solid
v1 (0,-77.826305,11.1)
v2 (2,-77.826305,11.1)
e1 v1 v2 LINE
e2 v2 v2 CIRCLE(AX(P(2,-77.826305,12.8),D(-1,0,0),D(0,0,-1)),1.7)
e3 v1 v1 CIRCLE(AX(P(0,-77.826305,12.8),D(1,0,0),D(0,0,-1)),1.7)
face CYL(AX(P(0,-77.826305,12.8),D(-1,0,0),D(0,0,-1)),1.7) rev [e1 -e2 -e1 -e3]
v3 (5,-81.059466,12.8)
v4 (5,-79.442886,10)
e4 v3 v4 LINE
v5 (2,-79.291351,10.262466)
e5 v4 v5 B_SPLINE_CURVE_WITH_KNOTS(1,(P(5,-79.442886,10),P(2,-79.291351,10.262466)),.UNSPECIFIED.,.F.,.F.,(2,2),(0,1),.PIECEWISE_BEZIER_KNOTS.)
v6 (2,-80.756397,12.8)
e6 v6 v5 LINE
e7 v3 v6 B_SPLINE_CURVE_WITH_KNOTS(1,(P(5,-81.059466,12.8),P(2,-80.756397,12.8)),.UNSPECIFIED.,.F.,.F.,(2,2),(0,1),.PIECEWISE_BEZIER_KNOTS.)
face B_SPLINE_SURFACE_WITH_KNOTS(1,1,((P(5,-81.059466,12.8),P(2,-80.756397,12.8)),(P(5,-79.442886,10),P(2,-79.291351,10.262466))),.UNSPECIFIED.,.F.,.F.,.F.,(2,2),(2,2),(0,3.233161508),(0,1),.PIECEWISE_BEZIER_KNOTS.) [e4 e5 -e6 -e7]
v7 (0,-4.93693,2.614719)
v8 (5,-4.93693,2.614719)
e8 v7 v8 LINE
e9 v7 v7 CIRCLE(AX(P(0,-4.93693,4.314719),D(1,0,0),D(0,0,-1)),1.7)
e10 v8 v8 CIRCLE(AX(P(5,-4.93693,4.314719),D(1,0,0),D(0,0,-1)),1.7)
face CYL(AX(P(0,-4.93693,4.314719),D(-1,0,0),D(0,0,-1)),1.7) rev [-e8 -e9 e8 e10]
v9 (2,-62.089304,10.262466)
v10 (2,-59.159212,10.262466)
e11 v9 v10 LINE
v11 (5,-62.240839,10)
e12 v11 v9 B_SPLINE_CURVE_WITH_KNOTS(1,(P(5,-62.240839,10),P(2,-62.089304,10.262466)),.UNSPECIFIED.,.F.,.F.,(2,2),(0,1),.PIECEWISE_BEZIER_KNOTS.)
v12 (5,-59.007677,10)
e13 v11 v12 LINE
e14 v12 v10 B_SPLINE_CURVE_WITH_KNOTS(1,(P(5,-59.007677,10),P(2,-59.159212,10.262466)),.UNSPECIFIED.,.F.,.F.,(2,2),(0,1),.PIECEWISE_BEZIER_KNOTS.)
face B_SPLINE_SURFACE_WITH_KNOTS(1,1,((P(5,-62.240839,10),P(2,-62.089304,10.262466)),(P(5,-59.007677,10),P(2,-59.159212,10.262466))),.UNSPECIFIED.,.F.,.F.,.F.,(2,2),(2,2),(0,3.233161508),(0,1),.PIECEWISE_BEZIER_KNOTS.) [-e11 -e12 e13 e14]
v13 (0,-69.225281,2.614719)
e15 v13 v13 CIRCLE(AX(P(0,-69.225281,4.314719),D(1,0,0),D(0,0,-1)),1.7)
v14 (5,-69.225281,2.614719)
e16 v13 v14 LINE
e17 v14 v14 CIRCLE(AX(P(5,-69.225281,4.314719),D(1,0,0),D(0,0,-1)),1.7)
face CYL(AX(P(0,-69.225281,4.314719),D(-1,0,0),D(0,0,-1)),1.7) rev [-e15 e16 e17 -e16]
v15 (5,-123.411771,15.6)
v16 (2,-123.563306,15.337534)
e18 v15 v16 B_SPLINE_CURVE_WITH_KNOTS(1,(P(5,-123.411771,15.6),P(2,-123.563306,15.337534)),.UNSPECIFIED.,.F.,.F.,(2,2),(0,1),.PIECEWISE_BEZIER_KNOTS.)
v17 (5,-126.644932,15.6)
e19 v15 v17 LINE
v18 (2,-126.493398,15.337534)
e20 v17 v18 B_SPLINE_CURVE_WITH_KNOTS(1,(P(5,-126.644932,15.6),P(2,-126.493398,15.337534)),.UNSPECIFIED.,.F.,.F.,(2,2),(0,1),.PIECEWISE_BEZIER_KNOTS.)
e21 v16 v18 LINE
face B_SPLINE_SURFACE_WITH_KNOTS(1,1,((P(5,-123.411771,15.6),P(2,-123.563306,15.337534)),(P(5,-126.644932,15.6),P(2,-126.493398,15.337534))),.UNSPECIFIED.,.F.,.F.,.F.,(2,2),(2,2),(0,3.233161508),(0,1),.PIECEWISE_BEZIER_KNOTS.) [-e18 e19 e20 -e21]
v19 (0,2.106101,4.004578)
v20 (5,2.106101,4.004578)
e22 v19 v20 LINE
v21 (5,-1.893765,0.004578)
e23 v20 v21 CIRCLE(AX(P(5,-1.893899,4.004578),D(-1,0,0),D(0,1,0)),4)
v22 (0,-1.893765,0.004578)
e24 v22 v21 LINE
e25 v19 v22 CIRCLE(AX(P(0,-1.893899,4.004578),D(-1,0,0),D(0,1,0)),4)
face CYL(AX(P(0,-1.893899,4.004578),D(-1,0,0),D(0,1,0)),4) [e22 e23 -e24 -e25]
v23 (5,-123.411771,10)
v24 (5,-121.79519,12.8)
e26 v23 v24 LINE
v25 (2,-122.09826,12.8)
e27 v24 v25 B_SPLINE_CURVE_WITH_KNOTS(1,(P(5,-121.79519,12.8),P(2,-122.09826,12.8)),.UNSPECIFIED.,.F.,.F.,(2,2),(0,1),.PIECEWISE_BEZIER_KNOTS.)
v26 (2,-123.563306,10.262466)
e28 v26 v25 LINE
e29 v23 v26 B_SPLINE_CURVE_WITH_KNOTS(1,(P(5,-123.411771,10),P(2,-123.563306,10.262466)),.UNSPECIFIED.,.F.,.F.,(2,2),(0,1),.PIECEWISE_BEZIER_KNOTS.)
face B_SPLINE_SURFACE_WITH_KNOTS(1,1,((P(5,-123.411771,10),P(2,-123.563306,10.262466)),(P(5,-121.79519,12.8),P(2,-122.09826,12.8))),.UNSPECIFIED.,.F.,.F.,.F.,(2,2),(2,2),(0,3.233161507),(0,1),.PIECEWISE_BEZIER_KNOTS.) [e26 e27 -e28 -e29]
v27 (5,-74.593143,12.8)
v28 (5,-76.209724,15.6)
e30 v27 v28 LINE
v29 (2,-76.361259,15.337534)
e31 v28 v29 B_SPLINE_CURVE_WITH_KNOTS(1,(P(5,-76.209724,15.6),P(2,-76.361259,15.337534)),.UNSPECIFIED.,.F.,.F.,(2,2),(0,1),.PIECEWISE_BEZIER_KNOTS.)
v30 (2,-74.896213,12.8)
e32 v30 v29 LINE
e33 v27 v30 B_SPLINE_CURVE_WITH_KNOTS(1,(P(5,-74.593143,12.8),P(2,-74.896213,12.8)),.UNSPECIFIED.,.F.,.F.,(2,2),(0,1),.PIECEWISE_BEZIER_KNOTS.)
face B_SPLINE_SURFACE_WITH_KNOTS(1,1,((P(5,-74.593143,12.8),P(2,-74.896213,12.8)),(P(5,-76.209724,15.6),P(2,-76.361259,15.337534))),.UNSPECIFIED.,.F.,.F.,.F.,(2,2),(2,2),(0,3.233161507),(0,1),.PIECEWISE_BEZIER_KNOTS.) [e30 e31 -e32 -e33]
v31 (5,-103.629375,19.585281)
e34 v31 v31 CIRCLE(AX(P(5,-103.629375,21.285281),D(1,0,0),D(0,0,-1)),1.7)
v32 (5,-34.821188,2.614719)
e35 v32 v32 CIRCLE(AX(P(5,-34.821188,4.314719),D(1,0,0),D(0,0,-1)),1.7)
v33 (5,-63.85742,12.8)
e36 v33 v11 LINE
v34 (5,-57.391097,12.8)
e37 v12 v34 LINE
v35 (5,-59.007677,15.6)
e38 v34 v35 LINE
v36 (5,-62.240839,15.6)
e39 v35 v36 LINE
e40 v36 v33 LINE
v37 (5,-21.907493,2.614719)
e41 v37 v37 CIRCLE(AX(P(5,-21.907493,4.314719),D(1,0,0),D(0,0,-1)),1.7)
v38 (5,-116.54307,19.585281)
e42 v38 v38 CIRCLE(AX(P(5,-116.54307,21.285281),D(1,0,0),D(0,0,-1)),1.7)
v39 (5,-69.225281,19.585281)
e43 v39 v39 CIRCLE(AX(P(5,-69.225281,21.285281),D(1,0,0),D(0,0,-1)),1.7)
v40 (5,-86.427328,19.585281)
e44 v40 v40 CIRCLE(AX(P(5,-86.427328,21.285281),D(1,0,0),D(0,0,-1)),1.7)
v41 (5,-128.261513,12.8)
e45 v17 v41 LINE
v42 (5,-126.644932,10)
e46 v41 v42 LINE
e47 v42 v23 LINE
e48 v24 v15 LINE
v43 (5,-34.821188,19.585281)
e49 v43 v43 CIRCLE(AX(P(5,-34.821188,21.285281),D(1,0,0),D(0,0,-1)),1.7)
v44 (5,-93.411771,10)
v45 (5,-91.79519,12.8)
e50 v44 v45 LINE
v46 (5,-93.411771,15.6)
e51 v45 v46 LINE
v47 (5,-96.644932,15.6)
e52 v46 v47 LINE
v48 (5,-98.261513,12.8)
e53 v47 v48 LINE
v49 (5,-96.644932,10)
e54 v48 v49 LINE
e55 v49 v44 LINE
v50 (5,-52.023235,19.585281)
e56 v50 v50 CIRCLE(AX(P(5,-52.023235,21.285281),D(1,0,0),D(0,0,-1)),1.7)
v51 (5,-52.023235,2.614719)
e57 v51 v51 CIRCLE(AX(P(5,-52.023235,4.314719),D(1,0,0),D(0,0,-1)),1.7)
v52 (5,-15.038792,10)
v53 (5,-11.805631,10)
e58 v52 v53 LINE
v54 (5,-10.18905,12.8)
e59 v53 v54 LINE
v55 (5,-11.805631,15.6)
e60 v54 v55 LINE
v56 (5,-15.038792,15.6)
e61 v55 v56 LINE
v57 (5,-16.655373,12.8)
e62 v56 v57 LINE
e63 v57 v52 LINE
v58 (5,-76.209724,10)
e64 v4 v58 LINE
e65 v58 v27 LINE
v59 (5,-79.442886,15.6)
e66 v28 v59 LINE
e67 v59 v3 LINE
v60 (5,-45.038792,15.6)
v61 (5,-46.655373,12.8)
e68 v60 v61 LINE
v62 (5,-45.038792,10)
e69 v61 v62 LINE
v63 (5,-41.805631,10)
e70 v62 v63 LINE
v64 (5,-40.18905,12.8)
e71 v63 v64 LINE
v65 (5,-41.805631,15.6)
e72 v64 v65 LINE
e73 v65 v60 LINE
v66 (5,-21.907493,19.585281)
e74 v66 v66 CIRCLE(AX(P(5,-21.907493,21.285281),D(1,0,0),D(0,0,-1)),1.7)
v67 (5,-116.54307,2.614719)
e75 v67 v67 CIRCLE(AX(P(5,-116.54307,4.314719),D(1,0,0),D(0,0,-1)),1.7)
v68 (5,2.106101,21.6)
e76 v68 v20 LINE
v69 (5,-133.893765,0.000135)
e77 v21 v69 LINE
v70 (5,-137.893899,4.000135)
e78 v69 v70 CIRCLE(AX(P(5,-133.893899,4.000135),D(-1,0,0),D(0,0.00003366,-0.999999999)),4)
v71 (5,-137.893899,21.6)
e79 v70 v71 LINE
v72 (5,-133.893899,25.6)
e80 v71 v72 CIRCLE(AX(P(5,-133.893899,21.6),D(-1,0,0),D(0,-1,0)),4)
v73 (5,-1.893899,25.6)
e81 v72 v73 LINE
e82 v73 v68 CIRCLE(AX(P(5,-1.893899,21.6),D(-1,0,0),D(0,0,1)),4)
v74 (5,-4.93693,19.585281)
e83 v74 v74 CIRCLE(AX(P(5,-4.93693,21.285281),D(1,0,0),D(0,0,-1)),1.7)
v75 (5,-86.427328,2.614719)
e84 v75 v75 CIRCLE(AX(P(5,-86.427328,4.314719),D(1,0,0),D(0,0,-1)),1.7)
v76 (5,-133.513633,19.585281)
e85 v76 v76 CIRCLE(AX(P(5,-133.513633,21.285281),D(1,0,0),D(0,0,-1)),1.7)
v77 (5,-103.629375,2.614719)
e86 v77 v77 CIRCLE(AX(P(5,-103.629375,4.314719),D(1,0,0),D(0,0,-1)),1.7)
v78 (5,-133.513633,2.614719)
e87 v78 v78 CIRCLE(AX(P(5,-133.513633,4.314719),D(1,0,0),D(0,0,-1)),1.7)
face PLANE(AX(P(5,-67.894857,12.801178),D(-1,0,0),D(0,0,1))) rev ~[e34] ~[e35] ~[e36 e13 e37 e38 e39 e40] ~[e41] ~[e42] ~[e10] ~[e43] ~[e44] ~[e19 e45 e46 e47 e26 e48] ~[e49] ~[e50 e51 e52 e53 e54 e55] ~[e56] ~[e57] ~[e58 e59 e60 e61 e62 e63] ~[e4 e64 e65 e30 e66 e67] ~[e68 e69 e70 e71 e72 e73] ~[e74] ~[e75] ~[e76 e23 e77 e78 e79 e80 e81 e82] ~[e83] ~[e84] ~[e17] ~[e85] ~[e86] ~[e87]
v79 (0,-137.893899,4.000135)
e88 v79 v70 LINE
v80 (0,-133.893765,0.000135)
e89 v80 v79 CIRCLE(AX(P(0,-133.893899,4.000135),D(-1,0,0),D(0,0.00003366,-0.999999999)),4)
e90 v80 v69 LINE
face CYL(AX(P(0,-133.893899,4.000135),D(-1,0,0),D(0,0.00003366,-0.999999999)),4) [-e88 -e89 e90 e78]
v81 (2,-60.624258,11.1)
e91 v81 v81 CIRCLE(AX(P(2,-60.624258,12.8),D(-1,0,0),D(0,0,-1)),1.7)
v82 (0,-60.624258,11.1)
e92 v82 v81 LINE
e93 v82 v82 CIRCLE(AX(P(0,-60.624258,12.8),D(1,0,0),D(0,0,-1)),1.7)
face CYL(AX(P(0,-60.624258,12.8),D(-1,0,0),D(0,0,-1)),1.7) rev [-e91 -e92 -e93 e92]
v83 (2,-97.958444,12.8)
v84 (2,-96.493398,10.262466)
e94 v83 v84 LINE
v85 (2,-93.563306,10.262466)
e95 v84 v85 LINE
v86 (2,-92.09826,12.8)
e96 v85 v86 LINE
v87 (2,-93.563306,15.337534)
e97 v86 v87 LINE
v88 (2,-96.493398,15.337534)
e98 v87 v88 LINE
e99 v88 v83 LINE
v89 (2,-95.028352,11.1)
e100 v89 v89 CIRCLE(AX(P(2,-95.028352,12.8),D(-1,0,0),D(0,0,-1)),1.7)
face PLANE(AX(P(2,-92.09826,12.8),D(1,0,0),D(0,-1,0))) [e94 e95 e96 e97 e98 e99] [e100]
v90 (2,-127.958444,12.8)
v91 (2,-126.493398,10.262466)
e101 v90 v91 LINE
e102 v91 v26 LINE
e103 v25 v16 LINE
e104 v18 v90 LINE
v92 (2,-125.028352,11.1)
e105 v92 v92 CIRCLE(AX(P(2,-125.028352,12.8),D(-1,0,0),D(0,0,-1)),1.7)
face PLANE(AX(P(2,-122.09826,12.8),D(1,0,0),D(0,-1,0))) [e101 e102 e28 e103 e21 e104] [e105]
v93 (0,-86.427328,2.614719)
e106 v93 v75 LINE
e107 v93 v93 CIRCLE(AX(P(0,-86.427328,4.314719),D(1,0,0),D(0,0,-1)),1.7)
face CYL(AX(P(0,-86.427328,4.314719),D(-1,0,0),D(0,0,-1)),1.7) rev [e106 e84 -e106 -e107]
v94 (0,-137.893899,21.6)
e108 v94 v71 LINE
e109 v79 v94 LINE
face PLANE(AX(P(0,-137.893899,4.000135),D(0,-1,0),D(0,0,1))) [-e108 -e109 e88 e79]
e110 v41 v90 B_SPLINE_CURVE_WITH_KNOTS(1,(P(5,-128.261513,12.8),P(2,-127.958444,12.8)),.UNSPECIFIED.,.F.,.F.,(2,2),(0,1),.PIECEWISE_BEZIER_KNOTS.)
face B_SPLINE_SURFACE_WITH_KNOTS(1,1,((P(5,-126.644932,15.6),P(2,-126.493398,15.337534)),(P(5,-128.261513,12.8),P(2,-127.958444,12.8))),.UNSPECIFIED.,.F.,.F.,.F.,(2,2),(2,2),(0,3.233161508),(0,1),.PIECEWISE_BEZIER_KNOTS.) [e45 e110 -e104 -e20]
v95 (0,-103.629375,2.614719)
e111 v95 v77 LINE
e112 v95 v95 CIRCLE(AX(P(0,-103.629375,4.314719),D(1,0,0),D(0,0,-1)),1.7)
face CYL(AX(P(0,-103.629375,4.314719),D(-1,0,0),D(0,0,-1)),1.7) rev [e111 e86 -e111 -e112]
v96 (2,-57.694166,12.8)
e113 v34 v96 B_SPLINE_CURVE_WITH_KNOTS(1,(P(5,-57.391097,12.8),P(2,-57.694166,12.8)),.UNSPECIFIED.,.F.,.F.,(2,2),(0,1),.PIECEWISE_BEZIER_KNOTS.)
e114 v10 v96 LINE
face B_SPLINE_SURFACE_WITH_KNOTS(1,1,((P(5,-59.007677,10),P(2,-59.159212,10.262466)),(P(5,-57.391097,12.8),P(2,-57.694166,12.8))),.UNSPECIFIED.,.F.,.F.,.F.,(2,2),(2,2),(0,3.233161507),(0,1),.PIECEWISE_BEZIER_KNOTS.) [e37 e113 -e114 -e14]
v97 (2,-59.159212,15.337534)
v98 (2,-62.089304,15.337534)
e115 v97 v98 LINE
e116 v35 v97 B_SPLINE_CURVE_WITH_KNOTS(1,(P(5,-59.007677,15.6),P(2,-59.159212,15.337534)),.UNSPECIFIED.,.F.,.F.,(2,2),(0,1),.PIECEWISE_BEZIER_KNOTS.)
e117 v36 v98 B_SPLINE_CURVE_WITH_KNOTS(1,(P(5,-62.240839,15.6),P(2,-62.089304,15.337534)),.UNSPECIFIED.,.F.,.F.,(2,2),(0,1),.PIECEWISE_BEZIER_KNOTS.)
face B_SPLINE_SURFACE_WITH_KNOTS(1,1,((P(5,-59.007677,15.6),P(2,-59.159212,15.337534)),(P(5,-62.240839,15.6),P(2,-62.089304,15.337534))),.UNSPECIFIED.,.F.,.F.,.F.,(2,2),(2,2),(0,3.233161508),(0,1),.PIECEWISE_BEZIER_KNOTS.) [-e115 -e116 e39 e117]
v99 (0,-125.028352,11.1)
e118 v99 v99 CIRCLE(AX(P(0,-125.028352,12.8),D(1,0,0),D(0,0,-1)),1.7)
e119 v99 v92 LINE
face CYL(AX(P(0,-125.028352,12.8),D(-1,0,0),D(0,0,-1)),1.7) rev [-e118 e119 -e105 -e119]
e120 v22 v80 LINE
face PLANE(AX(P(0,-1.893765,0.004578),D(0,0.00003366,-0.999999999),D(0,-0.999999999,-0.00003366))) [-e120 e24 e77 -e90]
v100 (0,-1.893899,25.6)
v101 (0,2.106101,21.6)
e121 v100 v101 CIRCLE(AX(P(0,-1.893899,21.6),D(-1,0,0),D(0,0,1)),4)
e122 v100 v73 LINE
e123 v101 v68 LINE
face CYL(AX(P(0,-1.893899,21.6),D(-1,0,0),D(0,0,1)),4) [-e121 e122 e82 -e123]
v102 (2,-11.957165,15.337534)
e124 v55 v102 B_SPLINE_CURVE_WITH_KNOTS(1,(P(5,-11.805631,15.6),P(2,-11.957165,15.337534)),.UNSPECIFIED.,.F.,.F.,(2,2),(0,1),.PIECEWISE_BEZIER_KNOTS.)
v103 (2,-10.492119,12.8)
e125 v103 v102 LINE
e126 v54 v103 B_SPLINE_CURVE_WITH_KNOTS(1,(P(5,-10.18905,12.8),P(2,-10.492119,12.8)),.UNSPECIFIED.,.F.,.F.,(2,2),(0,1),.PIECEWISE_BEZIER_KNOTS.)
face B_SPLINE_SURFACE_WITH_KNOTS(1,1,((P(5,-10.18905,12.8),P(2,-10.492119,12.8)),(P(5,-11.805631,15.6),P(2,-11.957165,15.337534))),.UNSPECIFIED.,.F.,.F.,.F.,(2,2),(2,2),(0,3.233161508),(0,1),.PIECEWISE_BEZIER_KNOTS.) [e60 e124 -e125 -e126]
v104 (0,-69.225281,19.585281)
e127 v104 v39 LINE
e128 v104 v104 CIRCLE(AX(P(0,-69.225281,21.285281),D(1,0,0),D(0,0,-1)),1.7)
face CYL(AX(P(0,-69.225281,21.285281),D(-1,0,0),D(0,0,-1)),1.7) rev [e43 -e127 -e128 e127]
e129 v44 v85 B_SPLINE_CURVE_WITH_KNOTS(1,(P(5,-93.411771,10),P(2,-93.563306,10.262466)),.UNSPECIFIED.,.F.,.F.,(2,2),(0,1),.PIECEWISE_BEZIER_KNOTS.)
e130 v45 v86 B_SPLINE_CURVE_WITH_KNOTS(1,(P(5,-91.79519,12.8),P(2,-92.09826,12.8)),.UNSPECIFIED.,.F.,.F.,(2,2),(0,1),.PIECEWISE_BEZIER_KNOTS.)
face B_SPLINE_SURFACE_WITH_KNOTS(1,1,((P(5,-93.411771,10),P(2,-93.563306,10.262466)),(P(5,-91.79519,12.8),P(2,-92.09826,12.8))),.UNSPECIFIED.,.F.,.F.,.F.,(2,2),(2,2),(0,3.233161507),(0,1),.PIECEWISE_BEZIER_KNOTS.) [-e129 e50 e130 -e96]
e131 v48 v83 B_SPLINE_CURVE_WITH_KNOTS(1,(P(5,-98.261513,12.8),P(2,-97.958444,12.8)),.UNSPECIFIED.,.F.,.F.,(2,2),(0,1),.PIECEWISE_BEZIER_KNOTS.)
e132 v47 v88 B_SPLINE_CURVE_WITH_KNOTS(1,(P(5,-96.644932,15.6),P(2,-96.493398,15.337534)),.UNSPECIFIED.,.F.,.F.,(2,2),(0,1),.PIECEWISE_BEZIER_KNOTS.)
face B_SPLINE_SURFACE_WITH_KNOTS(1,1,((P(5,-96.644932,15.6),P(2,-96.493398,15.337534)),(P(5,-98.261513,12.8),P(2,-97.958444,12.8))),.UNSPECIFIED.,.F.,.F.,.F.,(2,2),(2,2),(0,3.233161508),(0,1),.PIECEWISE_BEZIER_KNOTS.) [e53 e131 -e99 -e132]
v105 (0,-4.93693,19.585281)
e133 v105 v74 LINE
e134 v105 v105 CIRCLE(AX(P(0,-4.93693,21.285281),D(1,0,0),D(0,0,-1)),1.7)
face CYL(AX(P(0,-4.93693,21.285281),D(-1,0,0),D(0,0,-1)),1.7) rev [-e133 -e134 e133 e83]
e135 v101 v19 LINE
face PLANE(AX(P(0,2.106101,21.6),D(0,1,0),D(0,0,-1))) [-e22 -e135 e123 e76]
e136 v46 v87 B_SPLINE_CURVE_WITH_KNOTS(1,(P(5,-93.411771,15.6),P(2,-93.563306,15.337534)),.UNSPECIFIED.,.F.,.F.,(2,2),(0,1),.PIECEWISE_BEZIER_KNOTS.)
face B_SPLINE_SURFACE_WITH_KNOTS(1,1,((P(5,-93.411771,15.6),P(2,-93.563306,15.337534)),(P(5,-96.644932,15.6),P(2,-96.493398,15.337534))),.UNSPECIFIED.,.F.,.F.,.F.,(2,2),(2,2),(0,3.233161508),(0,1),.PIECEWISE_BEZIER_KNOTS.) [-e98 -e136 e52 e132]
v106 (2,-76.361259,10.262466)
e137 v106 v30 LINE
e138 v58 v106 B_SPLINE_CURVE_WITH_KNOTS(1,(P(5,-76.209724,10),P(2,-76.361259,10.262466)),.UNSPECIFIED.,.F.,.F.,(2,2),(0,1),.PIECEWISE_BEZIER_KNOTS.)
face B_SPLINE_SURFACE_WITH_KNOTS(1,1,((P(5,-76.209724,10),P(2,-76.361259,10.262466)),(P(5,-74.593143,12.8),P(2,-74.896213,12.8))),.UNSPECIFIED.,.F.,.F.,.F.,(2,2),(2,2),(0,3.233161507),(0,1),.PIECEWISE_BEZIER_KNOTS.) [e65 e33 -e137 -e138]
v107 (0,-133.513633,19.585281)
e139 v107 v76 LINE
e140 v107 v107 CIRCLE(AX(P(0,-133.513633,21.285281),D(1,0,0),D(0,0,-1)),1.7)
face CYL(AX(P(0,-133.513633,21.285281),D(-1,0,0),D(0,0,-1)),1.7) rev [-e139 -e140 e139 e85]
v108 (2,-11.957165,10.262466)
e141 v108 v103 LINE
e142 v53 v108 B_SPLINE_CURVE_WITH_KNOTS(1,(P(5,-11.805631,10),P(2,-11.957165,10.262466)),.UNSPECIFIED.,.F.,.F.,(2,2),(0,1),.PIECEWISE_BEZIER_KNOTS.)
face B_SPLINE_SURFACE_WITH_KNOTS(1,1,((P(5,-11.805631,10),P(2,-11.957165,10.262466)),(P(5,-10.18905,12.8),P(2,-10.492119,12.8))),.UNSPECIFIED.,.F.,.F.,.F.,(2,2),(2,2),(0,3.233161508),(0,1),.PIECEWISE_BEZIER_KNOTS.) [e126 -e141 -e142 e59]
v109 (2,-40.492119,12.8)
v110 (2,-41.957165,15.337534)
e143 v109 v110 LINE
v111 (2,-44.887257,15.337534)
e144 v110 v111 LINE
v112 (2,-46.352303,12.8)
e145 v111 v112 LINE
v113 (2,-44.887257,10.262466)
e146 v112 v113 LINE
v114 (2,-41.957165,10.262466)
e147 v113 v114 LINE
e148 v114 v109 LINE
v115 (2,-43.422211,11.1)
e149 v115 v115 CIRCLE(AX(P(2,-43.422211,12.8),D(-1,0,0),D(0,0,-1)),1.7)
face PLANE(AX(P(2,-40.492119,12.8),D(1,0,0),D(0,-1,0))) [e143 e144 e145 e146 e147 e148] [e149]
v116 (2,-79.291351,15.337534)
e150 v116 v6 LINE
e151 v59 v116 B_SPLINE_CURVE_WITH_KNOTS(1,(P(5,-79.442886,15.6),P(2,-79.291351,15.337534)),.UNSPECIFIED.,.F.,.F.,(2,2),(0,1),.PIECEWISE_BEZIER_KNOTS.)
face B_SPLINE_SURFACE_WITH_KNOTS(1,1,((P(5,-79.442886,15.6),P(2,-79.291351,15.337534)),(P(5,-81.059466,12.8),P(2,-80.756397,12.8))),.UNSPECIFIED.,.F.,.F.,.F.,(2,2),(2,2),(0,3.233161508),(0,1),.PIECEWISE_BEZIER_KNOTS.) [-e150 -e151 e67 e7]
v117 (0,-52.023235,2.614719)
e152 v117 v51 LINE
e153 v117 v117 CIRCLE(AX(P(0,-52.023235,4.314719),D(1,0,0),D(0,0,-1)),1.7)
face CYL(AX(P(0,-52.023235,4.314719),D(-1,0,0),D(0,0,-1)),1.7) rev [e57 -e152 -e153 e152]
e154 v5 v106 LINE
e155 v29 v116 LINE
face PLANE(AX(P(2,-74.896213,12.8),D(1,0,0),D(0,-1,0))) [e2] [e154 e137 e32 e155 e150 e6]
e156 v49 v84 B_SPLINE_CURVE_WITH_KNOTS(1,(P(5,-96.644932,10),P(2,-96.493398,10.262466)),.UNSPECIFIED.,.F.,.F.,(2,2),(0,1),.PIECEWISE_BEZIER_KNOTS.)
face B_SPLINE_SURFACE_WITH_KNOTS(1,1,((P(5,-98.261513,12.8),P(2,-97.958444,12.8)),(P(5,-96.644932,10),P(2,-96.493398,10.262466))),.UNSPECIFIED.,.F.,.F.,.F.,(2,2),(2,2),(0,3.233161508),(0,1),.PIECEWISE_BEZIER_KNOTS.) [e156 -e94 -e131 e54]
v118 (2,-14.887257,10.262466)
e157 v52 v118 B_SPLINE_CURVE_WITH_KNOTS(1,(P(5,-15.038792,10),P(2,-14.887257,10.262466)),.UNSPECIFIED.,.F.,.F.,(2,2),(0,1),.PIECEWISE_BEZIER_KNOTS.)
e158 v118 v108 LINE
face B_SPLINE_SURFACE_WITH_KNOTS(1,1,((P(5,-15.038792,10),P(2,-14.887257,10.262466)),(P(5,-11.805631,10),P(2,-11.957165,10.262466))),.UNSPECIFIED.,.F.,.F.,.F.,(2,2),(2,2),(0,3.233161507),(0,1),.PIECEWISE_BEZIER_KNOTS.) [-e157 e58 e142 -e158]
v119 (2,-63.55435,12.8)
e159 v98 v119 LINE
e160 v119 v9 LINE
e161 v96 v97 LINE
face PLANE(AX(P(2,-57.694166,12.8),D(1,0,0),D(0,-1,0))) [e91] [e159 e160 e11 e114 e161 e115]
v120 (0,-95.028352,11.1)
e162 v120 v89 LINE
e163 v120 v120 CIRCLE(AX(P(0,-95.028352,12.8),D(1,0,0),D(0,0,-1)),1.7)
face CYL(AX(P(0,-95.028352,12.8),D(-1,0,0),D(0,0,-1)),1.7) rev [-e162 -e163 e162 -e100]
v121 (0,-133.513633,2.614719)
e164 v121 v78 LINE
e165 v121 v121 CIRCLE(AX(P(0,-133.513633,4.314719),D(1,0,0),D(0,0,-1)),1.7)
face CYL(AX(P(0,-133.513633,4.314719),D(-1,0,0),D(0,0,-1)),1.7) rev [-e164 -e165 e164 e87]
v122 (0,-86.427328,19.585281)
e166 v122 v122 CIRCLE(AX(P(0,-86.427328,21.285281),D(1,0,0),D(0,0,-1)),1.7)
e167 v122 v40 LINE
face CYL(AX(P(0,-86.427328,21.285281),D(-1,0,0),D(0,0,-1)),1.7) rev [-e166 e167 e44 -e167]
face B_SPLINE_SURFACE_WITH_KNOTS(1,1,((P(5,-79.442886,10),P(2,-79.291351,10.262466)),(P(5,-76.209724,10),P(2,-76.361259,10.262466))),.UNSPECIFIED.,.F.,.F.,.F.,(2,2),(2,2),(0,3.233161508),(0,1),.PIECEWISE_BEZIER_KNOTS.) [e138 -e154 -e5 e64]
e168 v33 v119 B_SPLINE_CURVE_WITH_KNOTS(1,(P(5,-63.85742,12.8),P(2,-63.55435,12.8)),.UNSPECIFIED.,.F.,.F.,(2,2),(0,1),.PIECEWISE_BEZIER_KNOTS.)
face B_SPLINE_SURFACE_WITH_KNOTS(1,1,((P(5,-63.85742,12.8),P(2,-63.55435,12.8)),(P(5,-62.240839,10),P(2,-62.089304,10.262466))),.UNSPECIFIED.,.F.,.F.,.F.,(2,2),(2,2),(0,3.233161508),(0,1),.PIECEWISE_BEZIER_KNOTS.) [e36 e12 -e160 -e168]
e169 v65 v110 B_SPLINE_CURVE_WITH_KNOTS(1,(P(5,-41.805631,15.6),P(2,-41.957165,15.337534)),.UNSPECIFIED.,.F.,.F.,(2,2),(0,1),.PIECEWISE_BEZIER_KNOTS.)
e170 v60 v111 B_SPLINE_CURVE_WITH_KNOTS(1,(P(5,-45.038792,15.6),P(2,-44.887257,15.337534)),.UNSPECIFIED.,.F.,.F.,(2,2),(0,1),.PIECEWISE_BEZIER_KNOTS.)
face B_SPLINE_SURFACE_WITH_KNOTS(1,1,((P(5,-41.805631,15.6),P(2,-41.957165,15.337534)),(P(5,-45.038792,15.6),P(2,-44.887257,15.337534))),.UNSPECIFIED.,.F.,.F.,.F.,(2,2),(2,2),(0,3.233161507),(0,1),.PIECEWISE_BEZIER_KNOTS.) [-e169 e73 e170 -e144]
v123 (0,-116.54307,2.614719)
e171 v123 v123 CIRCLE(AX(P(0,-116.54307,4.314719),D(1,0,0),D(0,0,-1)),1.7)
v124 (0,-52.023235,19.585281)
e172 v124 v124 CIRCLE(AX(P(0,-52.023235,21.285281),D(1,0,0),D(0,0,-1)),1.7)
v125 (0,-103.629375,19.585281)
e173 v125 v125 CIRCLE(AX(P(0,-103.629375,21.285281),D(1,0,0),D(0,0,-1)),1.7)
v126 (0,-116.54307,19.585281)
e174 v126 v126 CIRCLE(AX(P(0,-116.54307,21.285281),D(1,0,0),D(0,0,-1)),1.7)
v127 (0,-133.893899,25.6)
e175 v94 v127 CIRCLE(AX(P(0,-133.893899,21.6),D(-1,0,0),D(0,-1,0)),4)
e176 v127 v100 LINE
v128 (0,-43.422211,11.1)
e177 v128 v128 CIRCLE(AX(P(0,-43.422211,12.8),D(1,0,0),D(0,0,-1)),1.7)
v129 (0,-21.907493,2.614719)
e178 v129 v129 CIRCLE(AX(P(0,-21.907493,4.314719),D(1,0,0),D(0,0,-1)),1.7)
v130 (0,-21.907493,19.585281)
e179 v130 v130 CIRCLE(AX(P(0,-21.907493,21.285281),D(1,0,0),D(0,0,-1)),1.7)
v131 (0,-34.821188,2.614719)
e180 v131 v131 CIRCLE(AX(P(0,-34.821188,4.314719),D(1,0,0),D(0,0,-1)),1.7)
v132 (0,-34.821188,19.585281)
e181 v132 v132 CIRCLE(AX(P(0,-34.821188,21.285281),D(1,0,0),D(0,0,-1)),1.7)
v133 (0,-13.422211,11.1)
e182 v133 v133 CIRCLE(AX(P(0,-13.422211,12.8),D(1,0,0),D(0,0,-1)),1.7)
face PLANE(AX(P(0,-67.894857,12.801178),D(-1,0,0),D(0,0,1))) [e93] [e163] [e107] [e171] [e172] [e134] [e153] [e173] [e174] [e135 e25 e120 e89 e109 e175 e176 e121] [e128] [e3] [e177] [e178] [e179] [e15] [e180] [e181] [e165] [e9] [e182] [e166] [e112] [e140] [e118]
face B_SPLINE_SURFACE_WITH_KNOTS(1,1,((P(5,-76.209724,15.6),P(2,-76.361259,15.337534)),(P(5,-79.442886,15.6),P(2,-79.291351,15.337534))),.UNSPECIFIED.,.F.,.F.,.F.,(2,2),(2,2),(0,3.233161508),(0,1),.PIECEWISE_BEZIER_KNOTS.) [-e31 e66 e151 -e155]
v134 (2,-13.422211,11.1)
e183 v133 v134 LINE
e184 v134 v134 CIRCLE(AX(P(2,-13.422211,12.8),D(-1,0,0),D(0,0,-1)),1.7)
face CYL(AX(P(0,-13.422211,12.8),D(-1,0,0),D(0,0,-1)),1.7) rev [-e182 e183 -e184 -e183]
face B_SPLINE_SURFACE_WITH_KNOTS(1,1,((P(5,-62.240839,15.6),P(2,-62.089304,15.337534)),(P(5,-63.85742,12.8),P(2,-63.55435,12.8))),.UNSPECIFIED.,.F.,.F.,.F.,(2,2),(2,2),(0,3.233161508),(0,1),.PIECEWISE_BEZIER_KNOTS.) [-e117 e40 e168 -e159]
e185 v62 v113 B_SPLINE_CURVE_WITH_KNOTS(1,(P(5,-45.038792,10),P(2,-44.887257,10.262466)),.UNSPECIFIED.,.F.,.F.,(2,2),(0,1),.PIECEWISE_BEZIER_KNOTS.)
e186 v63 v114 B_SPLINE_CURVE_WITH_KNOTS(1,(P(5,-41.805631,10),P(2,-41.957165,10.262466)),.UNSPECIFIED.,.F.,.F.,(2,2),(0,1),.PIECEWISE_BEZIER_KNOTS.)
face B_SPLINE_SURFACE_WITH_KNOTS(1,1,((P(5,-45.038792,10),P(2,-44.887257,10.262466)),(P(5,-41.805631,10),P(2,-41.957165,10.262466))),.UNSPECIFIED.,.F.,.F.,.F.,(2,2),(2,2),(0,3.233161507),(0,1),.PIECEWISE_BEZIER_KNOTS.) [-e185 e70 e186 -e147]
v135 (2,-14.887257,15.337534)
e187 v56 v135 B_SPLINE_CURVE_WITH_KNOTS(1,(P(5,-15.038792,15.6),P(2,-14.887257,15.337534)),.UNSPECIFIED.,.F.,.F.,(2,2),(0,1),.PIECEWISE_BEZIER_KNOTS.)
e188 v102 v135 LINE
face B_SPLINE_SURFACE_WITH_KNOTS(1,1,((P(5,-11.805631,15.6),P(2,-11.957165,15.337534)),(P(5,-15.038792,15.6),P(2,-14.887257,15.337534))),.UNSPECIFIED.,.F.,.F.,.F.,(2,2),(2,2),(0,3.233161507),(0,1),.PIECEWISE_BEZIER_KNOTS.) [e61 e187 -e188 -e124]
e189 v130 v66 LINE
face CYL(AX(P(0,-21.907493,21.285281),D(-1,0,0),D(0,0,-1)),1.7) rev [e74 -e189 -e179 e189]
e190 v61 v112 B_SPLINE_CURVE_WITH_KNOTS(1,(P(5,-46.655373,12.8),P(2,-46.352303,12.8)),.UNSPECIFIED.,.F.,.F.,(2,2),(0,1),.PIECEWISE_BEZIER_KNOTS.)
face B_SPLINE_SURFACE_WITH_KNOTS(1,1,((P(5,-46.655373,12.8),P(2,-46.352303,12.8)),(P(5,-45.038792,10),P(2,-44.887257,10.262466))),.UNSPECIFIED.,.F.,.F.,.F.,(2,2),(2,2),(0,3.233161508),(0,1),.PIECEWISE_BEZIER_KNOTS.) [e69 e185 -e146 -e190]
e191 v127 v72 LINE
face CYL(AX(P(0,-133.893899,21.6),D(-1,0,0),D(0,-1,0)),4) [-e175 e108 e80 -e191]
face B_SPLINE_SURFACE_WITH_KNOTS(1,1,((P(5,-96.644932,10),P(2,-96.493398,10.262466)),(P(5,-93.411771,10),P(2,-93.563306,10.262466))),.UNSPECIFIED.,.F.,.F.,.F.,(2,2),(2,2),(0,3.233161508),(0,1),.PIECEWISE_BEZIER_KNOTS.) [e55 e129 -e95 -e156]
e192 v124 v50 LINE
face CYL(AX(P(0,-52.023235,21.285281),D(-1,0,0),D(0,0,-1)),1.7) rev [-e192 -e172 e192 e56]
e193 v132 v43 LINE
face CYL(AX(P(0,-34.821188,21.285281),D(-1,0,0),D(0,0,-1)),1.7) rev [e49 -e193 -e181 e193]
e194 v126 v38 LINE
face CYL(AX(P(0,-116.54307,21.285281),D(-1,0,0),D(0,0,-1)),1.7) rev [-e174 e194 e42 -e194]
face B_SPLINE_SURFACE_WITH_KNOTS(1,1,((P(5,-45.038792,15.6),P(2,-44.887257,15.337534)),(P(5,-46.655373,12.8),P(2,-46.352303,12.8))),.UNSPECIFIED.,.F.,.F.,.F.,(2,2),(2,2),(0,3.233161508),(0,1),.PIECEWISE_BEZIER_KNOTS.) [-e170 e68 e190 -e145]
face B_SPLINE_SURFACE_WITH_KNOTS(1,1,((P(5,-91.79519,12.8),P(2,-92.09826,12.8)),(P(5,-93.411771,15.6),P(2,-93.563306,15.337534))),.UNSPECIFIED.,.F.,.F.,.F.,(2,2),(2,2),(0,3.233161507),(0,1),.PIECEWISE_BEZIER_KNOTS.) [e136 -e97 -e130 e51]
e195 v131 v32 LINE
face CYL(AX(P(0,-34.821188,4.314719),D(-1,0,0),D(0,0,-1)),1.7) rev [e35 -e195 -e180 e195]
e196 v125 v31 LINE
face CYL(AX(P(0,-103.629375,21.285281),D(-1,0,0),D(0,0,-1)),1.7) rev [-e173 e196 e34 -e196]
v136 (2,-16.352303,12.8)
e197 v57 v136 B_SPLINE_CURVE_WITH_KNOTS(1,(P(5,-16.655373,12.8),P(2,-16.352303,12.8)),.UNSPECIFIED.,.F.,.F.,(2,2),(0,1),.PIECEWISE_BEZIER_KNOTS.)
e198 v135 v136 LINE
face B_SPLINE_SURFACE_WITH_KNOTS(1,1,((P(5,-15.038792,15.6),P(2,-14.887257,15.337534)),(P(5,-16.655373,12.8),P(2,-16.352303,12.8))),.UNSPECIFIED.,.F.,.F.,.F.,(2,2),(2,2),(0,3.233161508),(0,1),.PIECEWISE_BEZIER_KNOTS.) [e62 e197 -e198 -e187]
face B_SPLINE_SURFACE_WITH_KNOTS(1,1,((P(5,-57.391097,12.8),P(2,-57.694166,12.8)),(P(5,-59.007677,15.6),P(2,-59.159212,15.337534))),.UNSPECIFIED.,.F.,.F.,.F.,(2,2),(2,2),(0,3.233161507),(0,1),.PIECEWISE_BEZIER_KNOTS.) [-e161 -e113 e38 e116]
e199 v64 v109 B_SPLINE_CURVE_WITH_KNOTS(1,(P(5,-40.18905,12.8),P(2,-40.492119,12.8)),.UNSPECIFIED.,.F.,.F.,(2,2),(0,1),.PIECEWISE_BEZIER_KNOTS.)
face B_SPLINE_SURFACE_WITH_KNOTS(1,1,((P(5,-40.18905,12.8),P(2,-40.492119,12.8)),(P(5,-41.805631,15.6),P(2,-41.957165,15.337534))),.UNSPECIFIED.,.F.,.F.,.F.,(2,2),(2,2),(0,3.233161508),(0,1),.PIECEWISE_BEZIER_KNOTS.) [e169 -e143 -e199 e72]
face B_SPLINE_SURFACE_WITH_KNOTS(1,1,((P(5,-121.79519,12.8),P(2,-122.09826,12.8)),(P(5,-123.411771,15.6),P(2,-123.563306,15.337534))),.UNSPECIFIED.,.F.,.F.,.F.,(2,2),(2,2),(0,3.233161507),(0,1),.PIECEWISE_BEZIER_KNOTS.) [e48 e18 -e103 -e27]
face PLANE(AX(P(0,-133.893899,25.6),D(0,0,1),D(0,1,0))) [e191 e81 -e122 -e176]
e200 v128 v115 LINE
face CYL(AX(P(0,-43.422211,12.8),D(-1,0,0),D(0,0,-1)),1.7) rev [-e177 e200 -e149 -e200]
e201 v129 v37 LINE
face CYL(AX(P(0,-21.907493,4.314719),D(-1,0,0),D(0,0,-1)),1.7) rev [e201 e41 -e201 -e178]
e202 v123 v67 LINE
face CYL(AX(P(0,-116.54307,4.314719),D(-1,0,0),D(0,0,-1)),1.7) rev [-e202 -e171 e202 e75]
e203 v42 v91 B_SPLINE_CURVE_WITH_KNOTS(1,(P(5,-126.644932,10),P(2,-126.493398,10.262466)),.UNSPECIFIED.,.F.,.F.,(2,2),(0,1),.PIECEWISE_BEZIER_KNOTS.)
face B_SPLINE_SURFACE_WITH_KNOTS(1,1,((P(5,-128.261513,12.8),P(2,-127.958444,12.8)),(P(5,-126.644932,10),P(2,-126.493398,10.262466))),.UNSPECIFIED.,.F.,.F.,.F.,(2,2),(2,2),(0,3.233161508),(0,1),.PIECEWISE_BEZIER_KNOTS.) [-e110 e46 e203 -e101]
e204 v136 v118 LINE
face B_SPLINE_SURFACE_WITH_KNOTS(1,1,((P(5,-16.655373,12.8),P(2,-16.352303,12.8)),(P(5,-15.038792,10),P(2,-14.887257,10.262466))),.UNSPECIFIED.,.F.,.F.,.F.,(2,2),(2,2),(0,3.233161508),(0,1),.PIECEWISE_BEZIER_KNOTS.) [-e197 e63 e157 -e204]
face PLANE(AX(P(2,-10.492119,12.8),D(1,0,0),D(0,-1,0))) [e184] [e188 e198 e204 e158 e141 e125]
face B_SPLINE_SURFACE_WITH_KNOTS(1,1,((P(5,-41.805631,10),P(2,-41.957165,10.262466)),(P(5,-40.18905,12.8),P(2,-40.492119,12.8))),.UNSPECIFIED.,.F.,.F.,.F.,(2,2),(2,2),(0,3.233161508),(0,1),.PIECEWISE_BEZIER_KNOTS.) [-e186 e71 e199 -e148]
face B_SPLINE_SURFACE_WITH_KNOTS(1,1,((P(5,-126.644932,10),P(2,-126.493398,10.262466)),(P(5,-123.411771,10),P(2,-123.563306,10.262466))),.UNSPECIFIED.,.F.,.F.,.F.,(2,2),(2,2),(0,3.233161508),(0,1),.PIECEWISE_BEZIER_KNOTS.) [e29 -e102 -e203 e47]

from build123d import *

# Parameters (mm, degrees)
ESQUISSE2_R             = 1.7
BOSS_EXTRU_1_DEPTH      = 5
ENL_V_MAT_EXTRU_1_DEPTH = 3
ENL_V_MAT_EXTRU_1_TAPER = 5


with BuildPart() as part:
    # Esquisse2 → Boss.-Extru.1 (new body)
    with BuildSketch(Plane(origin=(0, 0, 0), x_dir=(0, 0, -1), z_dir=(1, 0, 0))):
        with BuildLine():
            Line((-25.6, -133.893899255), (-25.6, -1.893899255))
            ThreePointArc((-25.6, -1.893899255), (-24.428427125, 0.93452787), (-21.6, 2.106100745))
            Line((-21.6, 2.106100745), (-4.004577751, 2.106100745))
            ThreePointArc((-4.004577751, 2.106100745), (-1.176198229, 0.934575472), (-0.004577753, -1.893764615))
            Line((-0.004577753, -1.893764615), (-0.000134644, -133.893764615))
            ThreePointArc((-0.000134644, -133.893764615), (-1.171659915, -136.722278777), (-4.000134642, -137.893899255))
            Line((-4.000134642, -137.893899255), (-21.6, -137.893899255))
            ThreePointArc((-21.6, -137.893899255), (-24.428427125, -136.72232638), (-25.6, -133.893899255))
        make_face()
        with Locations((-21.285281374, -103.629375049)):
            Circle(ESQUISSE2_R, mode=Mode.SUBTRACT)
        with Locations((-4.314718626, -103.629375049)):
            Circle(ESQUISSE2_R, mode=Mode.SUBTRACT)
        with Locations((-4.314718626, -86.427328272)):
            Circle(ESQUISSE2_R, mode=Mode.SUBTRACT)
        with Locations((-21.285281374, -86.427328272)):
            Circle(ESQUISSE2_R, mode=Mode.SUBTRACT)
        with Locations((-21.285281374, -133.513633034)):
            Circle(ESQUISSE2_R, mode=Mode.SUBTRACT)
        with Locations((-4.314718626, -133.513633034)):
            Circle(ESQUISSE2_R, mode=Mode.SUBTRACT)
        with Locations((-4.314718626, -69.225281495)):
            Circle(ESQUISSE2_R, mode=Mode.SUBTRACT)
        with Locations((-21.285281374, -69.225281495)):
            Circle(ESQUISSE2_R, mode=Mode.SUBTRACT)
        with Locations((-4.314718626, -52.023234718)):
            Circle(ESQUISSE2_R, mode=Mode.SUBTRACT)
        with Locations((-21.285281374, -52.023234718)):
            Circle(ESQUISSE2_R, mode=Mode.SUBTRACT)
        with Locations((-4.314718626, -34.821187941)):
            Circle(ESQUISSE2_R, mode=Mode.SUBTRACT)
        with Locations((-21.285281374, -34.821187941)):
            Circle(ESQUISSE2_R, mode=Mode.SUBTRACT)
        with Locations((-21.285281374, -4.936929955)):
            Circle(ESQUISSE2_R, mode=Mode.SUBTRACT)
        with Locations((-4.314718626, -4.936929955)):
            Circle(ESQUISSE2_R, mode=Mode.SUBTRACT)
        with Locations((-4.314718626, -116.543070286)):
            Circle(ESQUISSE2_R, mode=Mode.SUBTRACT)
        with Locations((-21.285281374, -116.543070286)):
            Circle(ESQUISSE2_R, mode=Mode.SUBTRACT)
        with Locations((-4.314718626, -21.907492704)):
            Circle(ESQUISSE2_R, mode=Mode.SUBTRACT)
        with Locations((-21.285281374, -21.907492704)):
            Circle(ESQUISSE2_R, mode=Mode.SUBTRACT)
        with Locations((-12.8, -13.422211329)):
            Circle(ESQUISSE2_R, mode=Mode.SUBTRACT)
        with Locations((-12.8, -43.422211329)):
            Circle(ESQUISSE2_R, mode=Mode.SUBTRACT)
        with Locations((-12.8, -60.624258106)):
            Circle(ESQUISSE2_R, mode=Mode.SUBTRACT)
        with Locations((-12.8, -77.826304883)):
            Circle(ESQUISSE2_R, mode=Mode.SUBTRACT)
        with Locations((-12.8, -95.02835166)):
            Circle(ESQUISSE2_R, mode=Mode.SUBTRACT)
        with Locations((-12.8, -125.02835166)):
            Circle(ESQUISSE2_R, mode=Mode.SUBTRACT)
    extrude(amount=BOSS_EXTRU_1_DEPTH)

    # Esquisse3 → Enlèv. mat.-Extru.1 (cut)
    with BuildSketch(Plane(origin=(5, 0, 0), x_dir=(0, 0, -1), z_dir=(1, 0, 0))):
        Polygon((-12.8, -10.189049822), (-15.6, -11.805630576), (-15.6, -15.038792083), (-12.8, -16.655372837), (-10, -15.038792083), (-10, -11.805630576), align=None)
        Polygon((-12.8, -40.189049822), (-15.6, -41.805630576), (-15.6, -45.038792083), (-12.8, -46.655372837), (-10, -45.038792083), (-10, -41.805630576), align=None)
        Polygon((-12.8, -57.391096599), (-15.6, -59.007677352), (-15.6, -62.24083886), (-12.8, -63.857419614), (-10, -62.24083886), (-10, -59.007677352), align=None)
        Polygon((-12.8, -74.593143376), (-15.6, -76.209724129), (-15.6, -79.442885637), (-12.8, -81.059466391), (-10, -79.442885637), (-10, -76.209724129), align=None)
        Polygon((-12.8, -91.795190153), (-15.6, -93.411770906), (-15.6, -96.644932414), (-12.8, -98.261513168), (-10, -96.644932414), (-10, -93.411770906), align=None)
        Polygon((-12.8, -121.795190153), (-15.6, -123.411770906), (-15.6, -126.644932414), (-12.8, -128.261513168), (-10, -126.644932414), (-10, -123.411770906), align=None)
    extrude(amount=-ENL_V_MAT_EXTRU_1_DEPTH, taper=ENL_V_MAT_EXTRU_1_TAPER, mode=Mode.SUBTRACT)


solid = part.part
